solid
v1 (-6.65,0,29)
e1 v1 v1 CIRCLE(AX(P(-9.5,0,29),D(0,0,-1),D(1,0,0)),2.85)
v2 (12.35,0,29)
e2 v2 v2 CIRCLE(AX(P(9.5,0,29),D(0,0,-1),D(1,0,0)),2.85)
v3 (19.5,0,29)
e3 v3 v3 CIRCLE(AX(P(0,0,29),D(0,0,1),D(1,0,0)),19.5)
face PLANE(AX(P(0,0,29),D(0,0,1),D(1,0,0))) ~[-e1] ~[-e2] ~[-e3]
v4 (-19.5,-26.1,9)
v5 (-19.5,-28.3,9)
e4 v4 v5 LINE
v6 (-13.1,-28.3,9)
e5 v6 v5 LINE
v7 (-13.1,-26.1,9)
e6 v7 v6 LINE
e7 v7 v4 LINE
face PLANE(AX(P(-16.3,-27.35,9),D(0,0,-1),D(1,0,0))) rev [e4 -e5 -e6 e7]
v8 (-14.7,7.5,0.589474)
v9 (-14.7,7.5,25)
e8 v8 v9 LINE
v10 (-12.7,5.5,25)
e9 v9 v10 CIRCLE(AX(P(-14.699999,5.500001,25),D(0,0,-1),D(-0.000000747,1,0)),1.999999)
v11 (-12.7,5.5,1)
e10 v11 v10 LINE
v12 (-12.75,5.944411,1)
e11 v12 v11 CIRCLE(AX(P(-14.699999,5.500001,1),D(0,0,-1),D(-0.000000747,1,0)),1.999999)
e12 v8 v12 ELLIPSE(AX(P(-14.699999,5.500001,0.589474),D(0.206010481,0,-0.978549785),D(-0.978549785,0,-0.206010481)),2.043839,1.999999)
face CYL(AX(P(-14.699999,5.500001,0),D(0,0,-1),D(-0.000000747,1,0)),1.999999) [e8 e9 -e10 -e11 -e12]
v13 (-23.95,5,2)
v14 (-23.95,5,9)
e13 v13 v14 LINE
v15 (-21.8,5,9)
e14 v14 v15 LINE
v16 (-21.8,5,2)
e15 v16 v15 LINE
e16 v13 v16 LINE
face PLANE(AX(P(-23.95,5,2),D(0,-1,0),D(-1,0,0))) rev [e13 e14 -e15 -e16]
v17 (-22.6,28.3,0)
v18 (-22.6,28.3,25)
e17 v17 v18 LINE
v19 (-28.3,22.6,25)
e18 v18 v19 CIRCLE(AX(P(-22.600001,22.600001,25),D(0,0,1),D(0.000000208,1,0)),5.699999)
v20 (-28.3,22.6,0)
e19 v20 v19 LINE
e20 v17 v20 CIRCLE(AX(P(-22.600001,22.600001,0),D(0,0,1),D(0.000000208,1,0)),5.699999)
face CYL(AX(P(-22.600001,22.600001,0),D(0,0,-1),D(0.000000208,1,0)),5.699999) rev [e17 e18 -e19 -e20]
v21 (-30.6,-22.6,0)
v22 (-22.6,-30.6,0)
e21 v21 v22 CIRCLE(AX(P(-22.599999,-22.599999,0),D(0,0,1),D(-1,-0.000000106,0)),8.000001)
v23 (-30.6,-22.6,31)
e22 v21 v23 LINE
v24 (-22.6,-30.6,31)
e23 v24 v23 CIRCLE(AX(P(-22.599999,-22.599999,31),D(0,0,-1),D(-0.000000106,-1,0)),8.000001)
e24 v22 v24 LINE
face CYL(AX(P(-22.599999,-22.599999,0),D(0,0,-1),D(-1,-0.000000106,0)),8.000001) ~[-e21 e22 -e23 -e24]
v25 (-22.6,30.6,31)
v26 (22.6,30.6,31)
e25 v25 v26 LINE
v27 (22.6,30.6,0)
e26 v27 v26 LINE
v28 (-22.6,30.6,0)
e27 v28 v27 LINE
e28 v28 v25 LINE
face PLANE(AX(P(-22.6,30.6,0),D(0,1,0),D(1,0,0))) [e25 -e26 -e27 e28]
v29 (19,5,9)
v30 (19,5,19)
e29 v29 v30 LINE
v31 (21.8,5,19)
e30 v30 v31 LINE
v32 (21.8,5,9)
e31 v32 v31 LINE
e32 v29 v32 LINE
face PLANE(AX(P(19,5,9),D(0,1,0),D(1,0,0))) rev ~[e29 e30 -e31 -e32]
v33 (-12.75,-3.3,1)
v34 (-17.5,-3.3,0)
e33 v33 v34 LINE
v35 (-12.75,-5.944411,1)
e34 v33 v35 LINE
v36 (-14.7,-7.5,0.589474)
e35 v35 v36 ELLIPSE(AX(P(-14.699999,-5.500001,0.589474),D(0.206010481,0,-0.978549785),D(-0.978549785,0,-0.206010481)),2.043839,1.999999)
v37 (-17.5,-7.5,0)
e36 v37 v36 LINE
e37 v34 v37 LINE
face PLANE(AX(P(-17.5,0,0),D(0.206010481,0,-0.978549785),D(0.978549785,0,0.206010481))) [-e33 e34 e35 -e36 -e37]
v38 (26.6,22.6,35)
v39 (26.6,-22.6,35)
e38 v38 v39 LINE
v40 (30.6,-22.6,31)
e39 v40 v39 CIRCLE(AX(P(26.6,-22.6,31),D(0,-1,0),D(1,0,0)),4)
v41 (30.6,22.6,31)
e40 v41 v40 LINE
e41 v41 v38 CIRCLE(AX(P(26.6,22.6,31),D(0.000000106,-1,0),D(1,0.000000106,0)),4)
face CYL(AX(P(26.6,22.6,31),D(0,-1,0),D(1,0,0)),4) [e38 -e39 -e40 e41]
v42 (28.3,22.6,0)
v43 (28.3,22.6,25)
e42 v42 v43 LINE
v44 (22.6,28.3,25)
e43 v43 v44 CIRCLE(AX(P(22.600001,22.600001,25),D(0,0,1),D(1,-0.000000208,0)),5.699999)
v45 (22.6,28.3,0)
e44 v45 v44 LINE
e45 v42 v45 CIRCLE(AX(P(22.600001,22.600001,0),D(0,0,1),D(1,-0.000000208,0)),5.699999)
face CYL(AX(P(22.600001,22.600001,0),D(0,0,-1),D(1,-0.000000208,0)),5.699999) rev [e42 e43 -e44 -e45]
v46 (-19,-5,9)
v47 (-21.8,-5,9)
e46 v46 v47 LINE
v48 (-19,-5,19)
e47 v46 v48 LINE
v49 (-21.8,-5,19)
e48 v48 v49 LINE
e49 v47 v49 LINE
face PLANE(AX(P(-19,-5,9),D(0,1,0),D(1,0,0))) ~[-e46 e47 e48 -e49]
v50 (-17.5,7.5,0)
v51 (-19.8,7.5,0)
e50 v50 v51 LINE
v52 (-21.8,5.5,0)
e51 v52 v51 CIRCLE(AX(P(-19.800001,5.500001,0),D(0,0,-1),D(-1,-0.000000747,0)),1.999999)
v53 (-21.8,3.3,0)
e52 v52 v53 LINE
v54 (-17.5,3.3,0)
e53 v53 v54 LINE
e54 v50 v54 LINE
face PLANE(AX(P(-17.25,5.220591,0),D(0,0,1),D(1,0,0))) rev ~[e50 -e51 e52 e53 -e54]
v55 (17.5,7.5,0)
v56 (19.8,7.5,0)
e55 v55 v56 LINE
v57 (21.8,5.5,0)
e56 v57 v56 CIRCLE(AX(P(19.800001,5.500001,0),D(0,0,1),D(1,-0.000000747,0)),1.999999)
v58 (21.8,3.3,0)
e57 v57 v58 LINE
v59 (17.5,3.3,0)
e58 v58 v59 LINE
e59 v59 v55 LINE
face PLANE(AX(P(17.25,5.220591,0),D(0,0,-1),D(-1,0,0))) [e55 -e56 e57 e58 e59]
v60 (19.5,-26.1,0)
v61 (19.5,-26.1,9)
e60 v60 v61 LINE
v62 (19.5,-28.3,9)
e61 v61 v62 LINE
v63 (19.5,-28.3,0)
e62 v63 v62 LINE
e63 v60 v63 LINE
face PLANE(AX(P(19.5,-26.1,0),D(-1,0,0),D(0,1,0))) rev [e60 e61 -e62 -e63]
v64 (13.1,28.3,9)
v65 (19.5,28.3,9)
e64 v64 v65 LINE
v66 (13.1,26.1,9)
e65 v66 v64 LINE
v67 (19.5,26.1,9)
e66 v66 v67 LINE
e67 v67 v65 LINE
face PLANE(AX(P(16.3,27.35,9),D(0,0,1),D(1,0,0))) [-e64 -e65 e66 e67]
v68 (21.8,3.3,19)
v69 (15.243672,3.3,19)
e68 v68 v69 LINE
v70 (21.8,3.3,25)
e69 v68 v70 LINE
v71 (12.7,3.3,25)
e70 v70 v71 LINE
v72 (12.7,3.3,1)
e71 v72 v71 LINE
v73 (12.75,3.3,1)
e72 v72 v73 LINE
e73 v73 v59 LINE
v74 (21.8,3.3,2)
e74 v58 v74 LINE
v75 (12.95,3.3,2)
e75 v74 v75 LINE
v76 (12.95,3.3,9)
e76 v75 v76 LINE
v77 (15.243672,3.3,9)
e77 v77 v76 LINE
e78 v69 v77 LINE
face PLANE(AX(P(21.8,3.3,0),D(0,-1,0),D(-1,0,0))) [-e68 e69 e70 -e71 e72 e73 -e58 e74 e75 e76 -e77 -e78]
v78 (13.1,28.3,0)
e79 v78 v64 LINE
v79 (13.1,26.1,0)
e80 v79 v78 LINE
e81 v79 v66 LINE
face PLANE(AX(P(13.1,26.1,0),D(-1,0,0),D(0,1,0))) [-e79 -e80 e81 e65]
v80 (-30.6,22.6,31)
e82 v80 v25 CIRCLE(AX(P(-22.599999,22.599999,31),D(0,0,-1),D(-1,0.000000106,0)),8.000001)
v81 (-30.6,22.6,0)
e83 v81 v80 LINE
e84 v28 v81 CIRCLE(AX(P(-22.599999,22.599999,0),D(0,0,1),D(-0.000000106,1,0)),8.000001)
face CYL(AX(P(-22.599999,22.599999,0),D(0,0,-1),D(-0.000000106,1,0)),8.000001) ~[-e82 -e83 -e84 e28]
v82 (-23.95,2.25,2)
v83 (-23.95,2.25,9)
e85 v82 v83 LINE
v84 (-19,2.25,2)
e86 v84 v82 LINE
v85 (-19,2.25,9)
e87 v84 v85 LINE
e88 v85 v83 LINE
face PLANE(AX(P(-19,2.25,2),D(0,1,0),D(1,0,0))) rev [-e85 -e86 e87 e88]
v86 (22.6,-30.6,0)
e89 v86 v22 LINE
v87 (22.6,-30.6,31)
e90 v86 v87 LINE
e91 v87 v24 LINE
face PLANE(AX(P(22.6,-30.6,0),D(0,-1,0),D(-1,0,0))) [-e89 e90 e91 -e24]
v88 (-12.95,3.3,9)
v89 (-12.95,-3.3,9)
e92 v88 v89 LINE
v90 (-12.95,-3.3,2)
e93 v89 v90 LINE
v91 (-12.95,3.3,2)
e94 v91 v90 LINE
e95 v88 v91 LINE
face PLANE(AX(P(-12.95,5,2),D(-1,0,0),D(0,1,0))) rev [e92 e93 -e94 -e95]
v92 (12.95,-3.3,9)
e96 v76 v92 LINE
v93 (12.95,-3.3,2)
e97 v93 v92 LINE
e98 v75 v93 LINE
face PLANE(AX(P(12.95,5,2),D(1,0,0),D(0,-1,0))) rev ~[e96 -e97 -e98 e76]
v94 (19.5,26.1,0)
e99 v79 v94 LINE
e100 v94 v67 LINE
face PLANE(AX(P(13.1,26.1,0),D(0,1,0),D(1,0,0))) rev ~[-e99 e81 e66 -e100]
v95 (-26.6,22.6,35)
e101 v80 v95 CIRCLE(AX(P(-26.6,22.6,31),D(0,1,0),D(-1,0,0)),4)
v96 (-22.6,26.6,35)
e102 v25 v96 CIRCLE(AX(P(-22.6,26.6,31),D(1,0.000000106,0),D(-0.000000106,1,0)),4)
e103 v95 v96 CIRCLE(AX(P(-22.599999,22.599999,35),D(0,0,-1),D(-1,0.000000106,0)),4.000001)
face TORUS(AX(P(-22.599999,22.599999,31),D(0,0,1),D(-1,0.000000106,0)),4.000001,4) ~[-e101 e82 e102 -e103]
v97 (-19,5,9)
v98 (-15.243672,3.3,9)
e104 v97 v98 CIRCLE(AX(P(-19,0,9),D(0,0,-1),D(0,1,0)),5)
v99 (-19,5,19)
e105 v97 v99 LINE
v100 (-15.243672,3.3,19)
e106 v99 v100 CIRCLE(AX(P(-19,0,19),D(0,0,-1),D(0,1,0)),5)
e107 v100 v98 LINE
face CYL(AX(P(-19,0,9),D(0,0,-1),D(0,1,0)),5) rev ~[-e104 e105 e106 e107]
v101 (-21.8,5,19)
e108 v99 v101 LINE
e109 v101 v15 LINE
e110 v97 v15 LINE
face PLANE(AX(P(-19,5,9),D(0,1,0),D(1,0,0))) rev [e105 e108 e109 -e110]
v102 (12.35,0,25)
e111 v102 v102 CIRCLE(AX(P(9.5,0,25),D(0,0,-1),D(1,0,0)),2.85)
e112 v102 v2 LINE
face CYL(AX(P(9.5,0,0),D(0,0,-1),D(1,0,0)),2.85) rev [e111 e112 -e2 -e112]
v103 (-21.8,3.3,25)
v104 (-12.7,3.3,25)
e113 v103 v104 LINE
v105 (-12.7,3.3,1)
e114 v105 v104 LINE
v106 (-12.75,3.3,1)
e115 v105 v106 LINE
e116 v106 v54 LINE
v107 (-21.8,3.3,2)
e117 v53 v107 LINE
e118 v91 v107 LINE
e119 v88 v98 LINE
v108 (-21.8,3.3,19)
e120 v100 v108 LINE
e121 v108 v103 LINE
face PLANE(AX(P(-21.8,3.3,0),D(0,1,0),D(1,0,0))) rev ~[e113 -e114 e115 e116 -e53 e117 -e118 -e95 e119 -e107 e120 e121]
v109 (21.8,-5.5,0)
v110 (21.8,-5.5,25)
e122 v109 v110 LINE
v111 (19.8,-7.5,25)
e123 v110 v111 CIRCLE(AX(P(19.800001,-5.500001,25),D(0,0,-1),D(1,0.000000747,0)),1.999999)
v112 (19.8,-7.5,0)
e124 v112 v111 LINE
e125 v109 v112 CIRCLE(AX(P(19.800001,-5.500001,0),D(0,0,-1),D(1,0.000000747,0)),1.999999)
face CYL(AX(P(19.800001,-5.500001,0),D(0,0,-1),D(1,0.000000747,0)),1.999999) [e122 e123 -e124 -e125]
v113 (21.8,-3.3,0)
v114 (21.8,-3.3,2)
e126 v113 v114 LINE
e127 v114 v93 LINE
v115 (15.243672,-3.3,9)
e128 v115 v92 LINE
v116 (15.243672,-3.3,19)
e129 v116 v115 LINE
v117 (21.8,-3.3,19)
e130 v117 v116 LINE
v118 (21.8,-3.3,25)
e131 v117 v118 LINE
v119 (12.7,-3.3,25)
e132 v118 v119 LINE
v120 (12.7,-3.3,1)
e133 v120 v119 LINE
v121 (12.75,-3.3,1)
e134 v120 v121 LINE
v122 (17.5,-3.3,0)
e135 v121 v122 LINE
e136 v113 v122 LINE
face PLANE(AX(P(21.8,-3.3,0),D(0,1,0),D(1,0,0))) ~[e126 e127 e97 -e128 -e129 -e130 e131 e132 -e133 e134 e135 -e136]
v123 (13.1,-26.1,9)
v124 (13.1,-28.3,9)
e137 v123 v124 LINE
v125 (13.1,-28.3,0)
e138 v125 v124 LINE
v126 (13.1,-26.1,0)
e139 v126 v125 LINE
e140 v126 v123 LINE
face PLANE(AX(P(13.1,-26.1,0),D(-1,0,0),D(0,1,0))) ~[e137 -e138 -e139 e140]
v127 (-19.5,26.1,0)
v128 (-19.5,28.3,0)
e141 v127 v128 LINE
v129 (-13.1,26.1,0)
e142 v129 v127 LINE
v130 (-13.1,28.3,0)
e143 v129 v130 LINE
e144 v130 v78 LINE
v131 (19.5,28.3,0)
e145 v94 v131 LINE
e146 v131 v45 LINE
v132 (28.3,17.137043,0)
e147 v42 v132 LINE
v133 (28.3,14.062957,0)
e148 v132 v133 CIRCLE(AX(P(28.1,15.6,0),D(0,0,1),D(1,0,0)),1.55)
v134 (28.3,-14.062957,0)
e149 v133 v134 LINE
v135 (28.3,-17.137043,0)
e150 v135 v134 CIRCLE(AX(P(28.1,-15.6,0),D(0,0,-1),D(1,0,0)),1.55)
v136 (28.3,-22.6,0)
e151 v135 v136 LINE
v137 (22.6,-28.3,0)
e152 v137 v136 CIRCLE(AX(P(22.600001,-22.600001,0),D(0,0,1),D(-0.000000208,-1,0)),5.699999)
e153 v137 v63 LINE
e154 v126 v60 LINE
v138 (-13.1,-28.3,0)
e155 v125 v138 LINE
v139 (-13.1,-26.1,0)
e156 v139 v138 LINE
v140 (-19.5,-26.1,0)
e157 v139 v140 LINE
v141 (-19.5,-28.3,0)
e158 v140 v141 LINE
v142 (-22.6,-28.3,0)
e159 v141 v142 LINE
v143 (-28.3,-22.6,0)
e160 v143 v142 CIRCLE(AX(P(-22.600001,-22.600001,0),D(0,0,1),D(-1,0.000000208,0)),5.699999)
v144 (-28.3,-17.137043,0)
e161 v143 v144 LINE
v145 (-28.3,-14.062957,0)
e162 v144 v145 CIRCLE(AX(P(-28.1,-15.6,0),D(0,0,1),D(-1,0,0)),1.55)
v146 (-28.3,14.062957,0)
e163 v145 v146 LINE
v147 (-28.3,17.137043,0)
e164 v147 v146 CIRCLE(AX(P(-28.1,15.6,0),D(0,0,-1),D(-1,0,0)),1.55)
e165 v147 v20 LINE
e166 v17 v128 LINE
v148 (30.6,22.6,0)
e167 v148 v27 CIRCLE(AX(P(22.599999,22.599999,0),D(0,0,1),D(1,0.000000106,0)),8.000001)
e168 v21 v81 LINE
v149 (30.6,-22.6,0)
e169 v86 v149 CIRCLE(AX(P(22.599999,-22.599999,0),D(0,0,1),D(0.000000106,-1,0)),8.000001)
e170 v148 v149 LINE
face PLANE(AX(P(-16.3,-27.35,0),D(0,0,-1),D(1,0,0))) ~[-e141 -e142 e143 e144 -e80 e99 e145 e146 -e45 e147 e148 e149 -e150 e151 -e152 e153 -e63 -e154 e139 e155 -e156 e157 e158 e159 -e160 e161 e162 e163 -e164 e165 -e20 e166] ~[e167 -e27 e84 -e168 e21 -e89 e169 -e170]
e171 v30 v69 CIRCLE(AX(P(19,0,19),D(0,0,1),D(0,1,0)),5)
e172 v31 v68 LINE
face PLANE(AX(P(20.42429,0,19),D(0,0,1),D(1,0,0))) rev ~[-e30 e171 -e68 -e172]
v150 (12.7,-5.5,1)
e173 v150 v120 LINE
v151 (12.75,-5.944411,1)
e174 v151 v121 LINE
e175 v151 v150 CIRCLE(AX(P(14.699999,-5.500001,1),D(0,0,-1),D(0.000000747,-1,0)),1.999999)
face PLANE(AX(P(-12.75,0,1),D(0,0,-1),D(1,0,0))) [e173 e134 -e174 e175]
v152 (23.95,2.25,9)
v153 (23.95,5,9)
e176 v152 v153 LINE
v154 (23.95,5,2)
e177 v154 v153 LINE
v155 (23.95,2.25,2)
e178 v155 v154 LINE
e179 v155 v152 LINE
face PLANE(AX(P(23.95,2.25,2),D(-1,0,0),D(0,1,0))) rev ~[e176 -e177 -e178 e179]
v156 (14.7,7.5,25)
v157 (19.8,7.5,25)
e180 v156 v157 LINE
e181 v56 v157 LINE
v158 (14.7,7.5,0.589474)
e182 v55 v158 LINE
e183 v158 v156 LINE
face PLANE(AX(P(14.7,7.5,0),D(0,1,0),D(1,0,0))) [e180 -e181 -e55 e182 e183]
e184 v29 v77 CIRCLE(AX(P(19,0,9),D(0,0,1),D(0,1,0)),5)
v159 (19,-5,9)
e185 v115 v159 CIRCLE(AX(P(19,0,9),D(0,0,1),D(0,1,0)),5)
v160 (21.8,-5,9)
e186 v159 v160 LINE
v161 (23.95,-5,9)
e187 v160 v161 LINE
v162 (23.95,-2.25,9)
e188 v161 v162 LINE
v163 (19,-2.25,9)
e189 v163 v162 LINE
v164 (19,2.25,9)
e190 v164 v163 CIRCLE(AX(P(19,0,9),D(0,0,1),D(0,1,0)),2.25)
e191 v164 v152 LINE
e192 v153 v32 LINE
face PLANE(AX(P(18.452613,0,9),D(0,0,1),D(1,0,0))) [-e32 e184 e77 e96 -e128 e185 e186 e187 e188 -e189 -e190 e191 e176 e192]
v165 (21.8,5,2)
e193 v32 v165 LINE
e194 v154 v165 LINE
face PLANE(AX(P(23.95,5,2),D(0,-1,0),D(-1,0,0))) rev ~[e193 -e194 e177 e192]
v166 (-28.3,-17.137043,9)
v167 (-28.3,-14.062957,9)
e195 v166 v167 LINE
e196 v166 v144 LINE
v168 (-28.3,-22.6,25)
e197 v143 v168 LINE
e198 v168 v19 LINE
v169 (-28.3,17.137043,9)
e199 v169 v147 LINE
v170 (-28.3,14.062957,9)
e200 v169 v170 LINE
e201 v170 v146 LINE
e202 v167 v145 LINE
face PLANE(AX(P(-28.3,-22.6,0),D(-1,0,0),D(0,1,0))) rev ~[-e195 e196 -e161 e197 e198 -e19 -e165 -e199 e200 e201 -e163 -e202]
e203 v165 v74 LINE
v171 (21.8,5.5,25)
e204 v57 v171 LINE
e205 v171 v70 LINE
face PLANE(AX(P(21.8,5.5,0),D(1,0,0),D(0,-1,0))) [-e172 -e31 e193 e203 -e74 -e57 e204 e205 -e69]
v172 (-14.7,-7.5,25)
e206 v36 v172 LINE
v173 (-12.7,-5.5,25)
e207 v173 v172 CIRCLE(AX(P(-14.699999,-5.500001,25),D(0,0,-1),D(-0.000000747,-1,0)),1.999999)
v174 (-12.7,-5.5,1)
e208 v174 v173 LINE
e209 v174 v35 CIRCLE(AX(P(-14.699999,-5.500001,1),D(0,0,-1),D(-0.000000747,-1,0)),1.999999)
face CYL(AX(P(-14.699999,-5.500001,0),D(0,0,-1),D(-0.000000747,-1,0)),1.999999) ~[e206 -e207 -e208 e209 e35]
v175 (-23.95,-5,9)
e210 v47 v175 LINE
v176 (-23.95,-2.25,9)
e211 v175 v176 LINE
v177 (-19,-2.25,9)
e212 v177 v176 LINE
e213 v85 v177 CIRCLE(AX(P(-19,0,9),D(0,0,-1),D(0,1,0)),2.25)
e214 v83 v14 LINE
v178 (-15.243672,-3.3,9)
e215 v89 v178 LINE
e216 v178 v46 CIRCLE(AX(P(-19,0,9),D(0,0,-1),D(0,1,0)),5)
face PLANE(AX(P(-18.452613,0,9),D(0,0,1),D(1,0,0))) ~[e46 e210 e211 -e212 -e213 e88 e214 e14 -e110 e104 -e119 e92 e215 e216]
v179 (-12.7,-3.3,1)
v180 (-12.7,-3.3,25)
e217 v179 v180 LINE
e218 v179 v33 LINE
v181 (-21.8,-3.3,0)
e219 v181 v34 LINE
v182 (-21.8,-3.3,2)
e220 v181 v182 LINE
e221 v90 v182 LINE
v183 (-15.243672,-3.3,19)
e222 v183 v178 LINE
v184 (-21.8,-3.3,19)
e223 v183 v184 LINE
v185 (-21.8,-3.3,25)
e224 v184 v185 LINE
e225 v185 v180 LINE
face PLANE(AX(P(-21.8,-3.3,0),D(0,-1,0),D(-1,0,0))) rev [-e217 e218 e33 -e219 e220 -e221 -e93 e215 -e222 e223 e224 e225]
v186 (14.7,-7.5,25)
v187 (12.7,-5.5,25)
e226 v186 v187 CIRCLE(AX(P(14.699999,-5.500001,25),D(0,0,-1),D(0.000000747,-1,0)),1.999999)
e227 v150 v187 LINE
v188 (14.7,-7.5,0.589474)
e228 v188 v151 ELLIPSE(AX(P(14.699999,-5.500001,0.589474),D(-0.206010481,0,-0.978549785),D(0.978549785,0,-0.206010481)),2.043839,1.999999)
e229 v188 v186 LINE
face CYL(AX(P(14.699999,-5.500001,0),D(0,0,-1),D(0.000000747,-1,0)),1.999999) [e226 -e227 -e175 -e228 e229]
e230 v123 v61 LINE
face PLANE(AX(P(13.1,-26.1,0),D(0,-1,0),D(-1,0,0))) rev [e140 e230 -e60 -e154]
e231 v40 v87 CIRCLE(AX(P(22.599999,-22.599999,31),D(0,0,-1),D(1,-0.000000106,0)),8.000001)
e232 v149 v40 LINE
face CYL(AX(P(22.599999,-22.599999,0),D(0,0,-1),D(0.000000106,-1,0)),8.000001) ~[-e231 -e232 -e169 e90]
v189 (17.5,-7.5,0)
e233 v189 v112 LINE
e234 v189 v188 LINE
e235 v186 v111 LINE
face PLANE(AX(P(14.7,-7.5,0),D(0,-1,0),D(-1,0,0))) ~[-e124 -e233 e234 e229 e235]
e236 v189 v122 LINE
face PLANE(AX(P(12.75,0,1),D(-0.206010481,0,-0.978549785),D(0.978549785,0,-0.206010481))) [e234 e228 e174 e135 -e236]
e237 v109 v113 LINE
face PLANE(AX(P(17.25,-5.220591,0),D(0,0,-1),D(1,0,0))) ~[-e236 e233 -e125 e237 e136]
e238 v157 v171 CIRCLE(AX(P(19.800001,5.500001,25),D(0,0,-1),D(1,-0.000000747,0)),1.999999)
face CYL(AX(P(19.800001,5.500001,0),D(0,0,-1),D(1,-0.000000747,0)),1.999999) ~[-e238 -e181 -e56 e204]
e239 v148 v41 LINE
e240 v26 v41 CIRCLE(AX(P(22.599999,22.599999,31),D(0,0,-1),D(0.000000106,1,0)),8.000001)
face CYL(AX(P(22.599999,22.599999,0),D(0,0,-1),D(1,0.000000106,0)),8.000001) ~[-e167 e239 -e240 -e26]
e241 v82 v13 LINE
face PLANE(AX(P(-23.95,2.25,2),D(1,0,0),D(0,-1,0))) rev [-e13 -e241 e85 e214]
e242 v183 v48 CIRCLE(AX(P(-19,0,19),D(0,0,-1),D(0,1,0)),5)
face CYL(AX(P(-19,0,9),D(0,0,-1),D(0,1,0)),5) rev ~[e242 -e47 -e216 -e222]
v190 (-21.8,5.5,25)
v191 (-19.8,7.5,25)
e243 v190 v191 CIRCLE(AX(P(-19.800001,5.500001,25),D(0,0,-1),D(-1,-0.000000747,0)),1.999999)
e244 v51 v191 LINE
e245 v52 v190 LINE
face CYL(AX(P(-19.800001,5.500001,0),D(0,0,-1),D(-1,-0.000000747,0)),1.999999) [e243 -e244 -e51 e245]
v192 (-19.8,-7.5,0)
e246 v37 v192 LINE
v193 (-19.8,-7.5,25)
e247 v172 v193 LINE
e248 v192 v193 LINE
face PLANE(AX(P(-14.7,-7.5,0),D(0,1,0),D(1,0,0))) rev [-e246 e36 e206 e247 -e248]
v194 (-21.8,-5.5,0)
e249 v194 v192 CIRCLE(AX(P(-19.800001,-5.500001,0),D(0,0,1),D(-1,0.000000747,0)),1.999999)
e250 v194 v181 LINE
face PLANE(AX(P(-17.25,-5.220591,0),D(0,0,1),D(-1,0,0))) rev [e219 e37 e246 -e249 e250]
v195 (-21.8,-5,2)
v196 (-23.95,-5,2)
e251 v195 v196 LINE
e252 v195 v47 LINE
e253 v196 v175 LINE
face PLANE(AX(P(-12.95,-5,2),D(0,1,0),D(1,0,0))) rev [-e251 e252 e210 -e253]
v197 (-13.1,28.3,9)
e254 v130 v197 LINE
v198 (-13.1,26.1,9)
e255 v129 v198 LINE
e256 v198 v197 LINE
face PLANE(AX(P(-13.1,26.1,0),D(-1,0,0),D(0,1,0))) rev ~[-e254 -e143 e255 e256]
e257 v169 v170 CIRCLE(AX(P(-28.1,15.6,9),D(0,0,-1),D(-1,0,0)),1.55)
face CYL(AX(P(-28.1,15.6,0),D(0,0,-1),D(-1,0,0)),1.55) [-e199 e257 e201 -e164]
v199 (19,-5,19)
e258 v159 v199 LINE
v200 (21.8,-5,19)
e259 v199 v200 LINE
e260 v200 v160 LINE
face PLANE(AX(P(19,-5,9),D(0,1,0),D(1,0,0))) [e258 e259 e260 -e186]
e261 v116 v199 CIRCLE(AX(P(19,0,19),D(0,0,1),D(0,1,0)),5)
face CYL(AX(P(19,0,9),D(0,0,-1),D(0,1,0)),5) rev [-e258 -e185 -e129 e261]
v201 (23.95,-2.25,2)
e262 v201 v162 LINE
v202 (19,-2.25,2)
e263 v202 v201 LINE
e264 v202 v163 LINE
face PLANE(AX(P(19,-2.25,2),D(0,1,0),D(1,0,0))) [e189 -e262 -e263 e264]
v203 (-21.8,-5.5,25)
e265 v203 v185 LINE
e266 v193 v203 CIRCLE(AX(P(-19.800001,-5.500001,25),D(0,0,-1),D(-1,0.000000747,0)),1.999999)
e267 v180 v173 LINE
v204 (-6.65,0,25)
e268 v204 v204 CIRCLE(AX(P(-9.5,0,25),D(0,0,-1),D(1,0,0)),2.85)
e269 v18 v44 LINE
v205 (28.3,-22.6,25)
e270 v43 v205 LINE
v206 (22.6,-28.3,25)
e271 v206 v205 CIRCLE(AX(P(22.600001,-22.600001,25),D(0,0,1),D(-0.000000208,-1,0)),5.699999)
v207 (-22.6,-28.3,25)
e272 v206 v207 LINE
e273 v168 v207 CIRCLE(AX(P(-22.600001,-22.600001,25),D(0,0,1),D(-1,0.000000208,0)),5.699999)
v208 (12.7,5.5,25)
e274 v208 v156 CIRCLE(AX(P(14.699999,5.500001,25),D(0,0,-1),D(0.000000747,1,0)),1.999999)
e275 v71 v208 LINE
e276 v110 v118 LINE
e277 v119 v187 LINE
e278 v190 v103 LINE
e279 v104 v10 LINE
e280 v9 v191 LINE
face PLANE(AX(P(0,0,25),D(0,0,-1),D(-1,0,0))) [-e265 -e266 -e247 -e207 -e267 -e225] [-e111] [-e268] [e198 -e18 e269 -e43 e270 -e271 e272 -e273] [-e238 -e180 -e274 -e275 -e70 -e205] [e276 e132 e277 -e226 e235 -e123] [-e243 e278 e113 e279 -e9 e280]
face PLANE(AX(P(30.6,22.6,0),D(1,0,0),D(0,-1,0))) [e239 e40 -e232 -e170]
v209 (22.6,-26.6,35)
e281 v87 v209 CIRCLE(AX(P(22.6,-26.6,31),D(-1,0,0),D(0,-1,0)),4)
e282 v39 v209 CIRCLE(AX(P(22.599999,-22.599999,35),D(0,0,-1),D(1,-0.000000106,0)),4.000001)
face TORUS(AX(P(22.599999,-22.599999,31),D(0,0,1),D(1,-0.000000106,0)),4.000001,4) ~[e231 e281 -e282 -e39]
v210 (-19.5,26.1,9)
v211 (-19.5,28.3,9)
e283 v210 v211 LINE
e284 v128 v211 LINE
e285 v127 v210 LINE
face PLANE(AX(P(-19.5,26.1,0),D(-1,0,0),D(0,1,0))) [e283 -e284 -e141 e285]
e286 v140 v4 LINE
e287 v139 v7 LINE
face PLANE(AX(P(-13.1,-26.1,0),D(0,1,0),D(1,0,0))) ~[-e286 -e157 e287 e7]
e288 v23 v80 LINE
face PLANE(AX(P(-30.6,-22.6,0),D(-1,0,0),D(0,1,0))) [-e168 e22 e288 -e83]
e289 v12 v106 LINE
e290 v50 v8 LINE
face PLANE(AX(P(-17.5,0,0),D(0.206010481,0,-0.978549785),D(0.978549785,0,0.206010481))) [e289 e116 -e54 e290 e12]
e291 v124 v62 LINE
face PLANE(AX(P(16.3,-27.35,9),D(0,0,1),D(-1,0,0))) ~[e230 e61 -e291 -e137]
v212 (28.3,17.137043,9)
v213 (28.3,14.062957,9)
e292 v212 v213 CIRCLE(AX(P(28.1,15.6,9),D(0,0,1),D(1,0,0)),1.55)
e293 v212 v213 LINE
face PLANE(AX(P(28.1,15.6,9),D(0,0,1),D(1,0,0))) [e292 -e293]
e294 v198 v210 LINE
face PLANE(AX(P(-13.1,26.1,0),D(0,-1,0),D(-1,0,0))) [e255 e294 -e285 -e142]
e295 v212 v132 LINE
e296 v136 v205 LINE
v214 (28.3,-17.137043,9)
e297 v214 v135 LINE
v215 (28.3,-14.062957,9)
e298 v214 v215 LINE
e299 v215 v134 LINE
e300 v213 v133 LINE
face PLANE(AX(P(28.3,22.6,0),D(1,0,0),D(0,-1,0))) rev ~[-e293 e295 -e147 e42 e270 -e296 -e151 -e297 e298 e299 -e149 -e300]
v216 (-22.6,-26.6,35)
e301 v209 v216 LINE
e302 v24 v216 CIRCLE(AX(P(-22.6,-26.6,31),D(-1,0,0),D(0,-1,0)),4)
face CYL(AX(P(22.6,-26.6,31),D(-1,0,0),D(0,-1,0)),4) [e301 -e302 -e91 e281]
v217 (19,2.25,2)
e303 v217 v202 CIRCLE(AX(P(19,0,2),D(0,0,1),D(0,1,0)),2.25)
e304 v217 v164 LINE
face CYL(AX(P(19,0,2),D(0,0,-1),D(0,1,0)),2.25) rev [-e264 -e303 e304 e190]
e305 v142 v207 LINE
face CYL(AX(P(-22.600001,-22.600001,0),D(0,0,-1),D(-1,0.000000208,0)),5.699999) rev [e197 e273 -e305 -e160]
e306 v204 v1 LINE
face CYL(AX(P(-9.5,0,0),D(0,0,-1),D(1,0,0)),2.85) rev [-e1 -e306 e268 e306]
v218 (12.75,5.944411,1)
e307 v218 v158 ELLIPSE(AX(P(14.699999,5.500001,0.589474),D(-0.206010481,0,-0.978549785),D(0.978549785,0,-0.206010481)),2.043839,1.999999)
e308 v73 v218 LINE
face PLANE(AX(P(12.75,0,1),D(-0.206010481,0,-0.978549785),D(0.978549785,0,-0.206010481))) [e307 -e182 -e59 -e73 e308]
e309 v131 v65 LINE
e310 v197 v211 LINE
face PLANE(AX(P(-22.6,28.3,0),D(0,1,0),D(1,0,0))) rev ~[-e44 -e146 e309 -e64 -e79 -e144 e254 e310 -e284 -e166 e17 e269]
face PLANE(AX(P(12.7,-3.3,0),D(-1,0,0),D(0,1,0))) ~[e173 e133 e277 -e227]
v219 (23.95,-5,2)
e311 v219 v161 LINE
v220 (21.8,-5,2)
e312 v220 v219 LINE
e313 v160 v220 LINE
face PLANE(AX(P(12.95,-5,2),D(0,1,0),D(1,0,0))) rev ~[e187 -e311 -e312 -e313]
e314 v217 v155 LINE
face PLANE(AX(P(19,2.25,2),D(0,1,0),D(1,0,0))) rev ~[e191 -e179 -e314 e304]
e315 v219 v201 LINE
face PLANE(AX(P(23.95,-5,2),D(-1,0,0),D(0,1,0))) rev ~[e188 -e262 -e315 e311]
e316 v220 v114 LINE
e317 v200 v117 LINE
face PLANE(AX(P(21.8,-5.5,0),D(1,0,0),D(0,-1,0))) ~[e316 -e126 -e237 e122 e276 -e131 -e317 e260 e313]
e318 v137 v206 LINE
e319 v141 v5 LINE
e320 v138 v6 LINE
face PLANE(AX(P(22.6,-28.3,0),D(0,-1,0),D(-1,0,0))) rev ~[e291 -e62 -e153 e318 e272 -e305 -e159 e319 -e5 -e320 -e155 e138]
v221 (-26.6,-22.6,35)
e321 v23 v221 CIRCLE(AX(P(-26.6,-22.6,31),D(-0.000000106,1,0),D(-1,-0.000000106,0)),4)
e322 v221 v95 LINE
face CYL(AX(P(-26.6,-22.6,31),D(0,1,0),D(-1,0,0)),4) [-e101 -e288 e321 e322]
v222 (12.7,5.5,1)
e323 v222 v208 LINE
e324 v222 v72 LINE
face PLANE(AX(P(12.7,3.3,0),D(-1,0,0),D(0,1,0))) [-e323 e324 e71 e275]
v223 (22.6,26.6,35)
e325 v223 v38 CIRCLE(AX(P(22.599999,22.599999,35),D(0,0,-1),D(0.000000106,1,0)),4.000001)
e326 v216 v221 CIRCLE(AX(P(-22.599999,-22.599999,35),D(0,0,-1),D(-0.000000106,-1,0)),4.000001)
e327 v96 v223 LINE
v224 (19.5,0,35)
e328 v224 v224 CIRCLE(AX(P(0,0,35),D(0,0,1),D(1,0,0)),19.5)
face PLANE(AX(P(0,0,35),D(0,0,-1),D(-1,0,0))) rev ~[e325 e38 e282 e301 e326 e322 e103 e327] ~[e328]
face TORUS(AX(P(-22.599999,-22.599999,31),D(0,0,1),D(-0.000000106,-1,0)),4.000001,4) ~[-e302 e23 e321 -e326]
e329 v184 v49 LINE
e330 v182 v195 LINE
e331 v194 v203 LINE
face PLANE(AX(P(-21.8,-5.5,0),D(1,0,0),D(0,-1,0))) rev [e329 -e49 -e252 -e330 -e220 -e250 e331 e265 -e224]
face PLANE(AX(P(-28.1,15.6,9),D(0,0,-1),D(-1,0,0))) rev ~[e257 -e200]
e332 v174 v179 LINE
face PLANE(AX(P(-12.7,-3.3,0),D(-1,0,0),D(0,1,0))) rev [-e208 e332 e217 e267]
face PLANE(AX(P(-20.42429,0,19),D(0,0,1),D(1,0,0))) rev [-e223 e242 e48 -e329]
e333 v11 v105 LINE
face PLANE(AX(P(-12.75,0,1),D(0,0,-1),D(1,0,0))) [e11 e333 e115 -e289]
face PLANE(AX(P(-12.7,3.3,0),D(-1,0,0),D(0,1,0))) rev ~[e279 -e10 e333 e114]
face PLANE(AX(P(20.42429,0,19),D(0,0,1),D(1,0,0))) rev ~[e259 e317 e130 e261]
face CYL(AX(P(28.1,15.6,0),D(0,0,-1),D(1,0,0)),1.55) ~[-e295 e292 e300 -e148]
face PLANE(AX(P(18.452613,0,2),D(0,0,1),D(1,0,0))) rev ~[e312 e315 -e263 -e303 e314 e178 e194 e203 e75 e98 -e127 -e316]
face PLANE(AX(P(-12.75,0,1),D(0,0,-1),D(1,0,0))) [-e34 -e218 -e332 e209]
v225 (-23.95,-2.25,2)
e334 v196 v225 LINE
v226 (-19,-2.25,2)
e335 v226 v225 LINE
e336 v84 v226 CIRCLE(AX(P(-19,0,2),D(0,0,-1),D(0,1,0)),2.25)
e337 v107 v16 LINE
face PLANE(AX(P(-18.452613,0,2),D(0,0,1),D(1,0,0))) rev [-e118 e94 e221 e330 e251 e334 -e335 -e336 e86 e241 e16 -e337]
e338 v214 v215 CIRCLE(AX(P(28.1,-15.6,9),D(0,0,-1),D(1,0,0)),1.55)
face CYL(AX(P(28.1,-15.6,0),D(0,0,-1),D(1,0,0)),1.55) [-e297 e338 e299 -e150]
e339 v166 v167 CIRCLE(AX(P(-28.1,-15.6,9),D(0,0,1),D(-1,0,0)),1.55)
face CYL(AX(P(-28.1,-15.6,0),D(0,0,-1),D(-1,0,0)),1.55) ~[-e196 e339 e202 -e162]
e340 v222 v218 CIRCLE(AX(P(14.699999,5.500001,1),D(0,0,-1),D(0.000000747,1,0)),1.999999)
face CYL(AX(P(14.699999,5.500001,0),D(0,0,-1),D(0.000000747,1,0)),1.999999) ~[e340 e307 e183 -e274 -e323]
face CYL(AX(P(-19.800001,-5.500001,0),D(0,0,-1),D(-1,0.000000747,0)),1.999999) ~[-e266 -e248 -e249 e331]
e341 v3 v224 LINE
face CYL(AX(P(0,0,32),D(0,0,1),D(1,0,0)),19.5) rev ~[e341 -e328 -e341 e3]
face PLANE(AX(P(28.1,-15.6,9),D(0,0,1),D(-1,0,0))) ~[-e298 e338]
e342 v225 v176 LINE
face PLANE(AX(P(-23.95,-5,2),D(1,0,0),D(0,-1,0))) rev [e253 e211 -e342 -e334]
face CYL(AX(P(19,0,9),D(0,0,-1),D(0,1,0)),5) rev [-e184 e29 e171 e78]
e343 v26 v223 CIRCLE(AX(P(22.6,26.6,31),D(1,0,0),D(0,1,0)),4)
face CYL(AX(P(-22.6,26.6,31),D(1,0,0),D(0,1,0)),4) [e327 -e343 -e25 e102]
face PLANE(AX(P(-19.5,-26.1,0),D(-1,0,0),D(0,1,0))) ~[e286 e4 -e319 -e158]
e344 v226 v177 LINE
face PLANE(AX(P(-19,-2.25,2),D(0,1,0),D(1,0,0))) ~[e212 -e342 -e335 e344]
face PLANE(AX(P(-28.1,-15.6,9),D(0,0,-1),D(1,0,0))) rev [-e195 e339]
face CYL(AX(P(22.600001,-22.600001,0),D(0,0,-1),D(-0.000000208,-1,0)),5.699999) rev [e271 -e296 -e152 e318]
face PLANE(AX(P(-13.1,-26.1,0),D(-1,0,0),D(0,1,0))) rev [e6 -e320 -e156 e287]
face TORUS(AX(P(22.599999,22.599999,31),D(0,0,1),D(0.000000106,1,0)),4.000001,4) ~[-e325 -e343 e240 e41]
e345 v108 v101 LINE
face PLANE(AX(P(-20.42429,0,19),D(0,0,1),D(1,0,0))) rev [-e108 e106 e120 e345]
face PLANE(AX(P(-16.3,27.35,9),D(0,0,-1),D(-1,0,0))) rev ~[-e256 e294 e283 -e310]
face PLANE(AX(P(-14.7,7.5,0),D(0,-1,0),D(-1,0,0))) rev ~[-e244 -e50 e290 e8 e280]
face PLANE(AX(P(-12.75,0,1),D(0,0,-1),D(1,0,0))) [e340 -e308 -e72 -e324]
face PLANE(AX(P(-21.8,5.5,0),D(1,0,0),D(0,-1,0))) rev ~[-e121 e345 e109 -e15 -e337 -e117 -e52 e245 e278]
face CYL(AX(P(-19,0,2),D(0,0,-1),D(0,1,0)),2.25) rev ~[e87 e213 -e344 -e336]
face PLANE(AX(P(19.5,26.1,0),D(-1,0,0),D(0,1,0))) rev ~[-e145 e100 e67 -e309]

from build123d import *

# Parameters (mm, degrees)
PAD_DEPTH               = 35
POCKET_DEPTH            = 25
SKETCH002_W             = 6.4
SKETCH002_H             = 2.5
PAD001_DEPTH            = 9
SKETCH003_R             = 1.55
PAD002_DEPTH            = 9
PAD003_DEPTH            = 33
SKETCH002_MIRRORED_2_W  = 6.4
SKETCH002_MIRRORED_2_H  = 2.5
PAD001_MIRRORED_2_DEPTH = 9
PAD003_MIRRORED_2_DEPTH = 33
SKETCH003_MIRRORED_2_R  = 1.55
PAD002_MIRRORED_2_DEPTH = 9
POCKET001_DEPTH         = 10
PAD004_DEPTH            = 7
POCKET002_DEPTH         = 10
SKETCH008_W             = 19.5
SKETCH008_H             = 6
SKETCH009_R             = 2.85
POCKET003_DEPTH         = 0.001
POCKET003_DEPTH_BACK    = -35.001
FILLET_R                = 4


with BuildPart() as part:
    # Sketch → Pad (new body)
    with BuildSketch(Plane.XY):
        with BuildLine():
            Line((-22.6, 30.6), (22.6, 30.6))
            ThreePointArc((30.6, 22.6), (28.256854, 28.256854), (22.6, 30.6))
            Line((30.6, 22.6), (30.6, -22.6))
            ThreePointArc((22.6, -30.6), (28.256854, -28.256854), (30.6, -22.6))
            Line((22.6, -30.6), (-22.6, -30.6))
            ThreePointArc((-30.6, -22.6), (-28.256854, -28.256854), (-22.6, -30.6))
            Line((-30.6, -22.6), (-30.6, 22.6))
            ThreePointArc((-22.6, 30.6), (-28.256854, 28.256854), (-30.6, 22.6))
        make_face()
    extrude(amount=PAD_DEPTH)

    # Sketch001 → Pocket (cut)
    with BuildSketch(Plane.XY):
        with BuildLine():
            Line((-22.6, 28.3), (22.6, 28.3))
            ThreePointArc((28.3, 22.6), (26.630509, 26.630509), (22.6, 28.3))
            Line((28.3, 22.6), (28.3, -22.6))
            ThreePointArc((22.6, -28.3), (26.630509, -26.630509), (28.3, -22.6))
            Line((22.6, -28.3), (-22.6, -28.3))
            ThreePointArc((-28.3, -22.6), (-26.630509, -26.630509), (-22.6, -28.3))
            Line((-28.3, -22.6), (-28.3, 22.6))
            ThreePointArc((-22.6, 28.3), (-26.630509, 26.630509), (-28.3, 22.6))
        make_face()
    extrude(amount=POCKET_DEPTH, mode=Mode.SUBTRACT)

    # Sketch002 → Pad001 (join)
    with BuildSketch(Plane.XY):
        with Locations((16.3, 27.35)):
            Rectangle(SKETCH002_W, SKETCH002_H)
    pad001 = extrude(amount=PAD001_DEPTH)

    # Sketch003 → Pad002 (join)
    with BuildSketch(Plane.XY):
        with Locations((28.1, 15.6)):
            Circle(SKETCH003_R)
    pad002 = extrude(amount=PAD002_DEPTH)

    # Sketch004 → Pad003 (join)
    with BuildSketch(Plane.XY):
        with BuildLine():
            Line((21.8, 3.3), (12.7, 3.3))
            Line((12.7, 3.3), (12.7, 5.5))
            ThreePointArc((14.7, 7.5), (13.285786, 6.914214), (12.7, 5.5))
            Line((14.7, 7.5), (19.8, 7.5))
            ThreePointArc((21.8, 5.5), (21.214214, 6.914214), (19.8, 7.5))
            Line((21.8, 5.5), (21.8, 3.3))
        make_face()
    pad003 = extrude(amount=PAD003_DEPTH)

    # Sketch002 Mirrored 2 → Pad001 Mirrored 2 (add)
    with BuildSketch(Plane(origin=(0, 0, 0), x_dir=(-1, 0, 0), z_dir=(0, 0, -1))):
        with Locations((16.3, 27.35)):
            Rectangle(SKETCH002_MIRRORED_2_W, SKETCH002_MIRRORED_2_H)
    pad001_mirrored_2 = extrude(amount=-PAD001_MIRRORED_2_DEPTH)

    # Sketch004 Mirrored 2 → Pad003 Mirrored 2 (add)
    with BuildSketch(Plane(origin=(0, 0, 0), x_dir=(-1, 0, 0), z_dir=(0, 0, -1))):
        with BuildLine():
            Line((21.8, 3.3), (12.7, 3.3))
            Line((12.7, 3.3), (12.7, 5.5))
            ThreePointArc((14.7, 7.5), (13.285786, 6.914214), (12.7, 5.5))
            Line((14.7, 7.5), (19.8, 7.5))
            ThreePointArc((21.8, 5.5), (21.214214, 6.914214), (19.8, 7.5))
            Line((21.8, 5.5), (21.8, 3.3))
        make_face()
    pad003_mirrored_2 = extrude(amount=-PAD003_MIRRORED_2_DEPTH)

    # Sketch003 Mirrored 2 → Pad002 Mirrored 2 (add)
    with BuildSketch(Plane(origin=(0, 0, 0), x_dir=(-1, 0, 0), z_dir=(0, 0, -1))):
        with Locations((28.1, 15.6)):
            Circle(SKETCH003_MIRRORED_2_R)
    pad002_mirrored_2 = extrude(amount=-PAD002_MIRRORED_2_DEPTH)

    # Mirrored001: Pad001, Pad003, Pad002, Pad001 Mirrored 2, Pad003 Mirrored 2, Pad002 Mirrored 2 across XZ
    add(pad001.mirror(Plane.XZ))
    add(pad003.mirror(Plane.XZ))
    add(pad002.mirror(Plane.XZ))
    add(pad001_mirrored_2.mirror(Plane.XZ))
    add(pad003_mirrored_2.mirror(Plane.XZ))
    add(pad002_mirrored_2.mirror(Plane.XZ))

    # Sketch005 → Pocket001 (cut, symmetric)
    with BuildSketch(Plane.XZ):
        Polygon((-12.75, 1), (12.75, 1), (17.5, 0), (-17.5, 0), align=None)
    extrude(amount=POCKET001_DEPTH, both=True, mode=Mode.SUBTRACT)

    # Sketch006 → Pad004 (join)
    with BuildSketch(Plane.XY.offset(2)):
        with BuildLine():
            Line((23.95, 5), (12.95, 5))
            Line((12.95, 5), (12.95, -5))
            Line((12.95, -5), (23.95, -5))
            Line((23.95, -5), (23.95, -2.25))
            Line((19, -2.25), (23.95, -2.25))
            ThreePointArc((19, 2.25), (16.75, 0), (19, -2.25))
            Line((19, 2.25), (23.95, 2.25))
            Line((23.95, 2.25), (23.95, 5))
        make_face()
    pad004 = extrude(amount=PAD004_DEPTH)

    # Sketch007 → Pocket002 (cut)
    with BuildSketch(Plane.XY.offset(9)):
        with BuildLine():
            ThreePointArc((19, 5), (14, 0), (19, -5))
            Line((19, -5), (25, -5))
            Line((25, 5), (25, -5))
            Line((19, 5), (25, 5))
        make_face()
    pocket002 = extrude(amount=POCKET002_DEPTH, mode=Mode.SUBTRACT)

    # Mirrored002: Pad004, Pocket002 across YZ
    add(pad004.mirror(Plane.YZ))
    add(pocket002.mirror(Plane.YZ), mode=Mode.SUBTRACT)

    # Sketch008 → Groove (revolve, cut)
    with BuildSketch(Plane.XZ):
        with Locations((9.75, 32)):
            Rectangle(SKETCH008_W, SKETCH008_H)
    revolve(axis=Axis((0, 0, 0), (0, 0, 1)), mode=Mode.SUBTRACT)

    # Sketch009 → Pocket003 (cut, two sides)
    with BuildSketch(Plane.XY) as pocket003_sk:
        with Locations((9.5, 0)):
            Circle(SKETCH009_R)
        with Locations((-9.5, 0)):
            Circle(SKETCH009_R)
    extrude(amount=-POCKET003_DEPTH, mode=Mode.SUBTRACT)
    extrude(pocket003_sk.sketch, amount=-POCKET003_DEPTH_BACK, mode=Mode.SUBTRACT)

    # Fillet
    fillet_edges = [part.edges().sort_by_distance(p)[0] for p in [
        (0, -30.6, 35),
    ]]
    fillet(fillet_edges, radius=FILLET_R)


solid = part.part
